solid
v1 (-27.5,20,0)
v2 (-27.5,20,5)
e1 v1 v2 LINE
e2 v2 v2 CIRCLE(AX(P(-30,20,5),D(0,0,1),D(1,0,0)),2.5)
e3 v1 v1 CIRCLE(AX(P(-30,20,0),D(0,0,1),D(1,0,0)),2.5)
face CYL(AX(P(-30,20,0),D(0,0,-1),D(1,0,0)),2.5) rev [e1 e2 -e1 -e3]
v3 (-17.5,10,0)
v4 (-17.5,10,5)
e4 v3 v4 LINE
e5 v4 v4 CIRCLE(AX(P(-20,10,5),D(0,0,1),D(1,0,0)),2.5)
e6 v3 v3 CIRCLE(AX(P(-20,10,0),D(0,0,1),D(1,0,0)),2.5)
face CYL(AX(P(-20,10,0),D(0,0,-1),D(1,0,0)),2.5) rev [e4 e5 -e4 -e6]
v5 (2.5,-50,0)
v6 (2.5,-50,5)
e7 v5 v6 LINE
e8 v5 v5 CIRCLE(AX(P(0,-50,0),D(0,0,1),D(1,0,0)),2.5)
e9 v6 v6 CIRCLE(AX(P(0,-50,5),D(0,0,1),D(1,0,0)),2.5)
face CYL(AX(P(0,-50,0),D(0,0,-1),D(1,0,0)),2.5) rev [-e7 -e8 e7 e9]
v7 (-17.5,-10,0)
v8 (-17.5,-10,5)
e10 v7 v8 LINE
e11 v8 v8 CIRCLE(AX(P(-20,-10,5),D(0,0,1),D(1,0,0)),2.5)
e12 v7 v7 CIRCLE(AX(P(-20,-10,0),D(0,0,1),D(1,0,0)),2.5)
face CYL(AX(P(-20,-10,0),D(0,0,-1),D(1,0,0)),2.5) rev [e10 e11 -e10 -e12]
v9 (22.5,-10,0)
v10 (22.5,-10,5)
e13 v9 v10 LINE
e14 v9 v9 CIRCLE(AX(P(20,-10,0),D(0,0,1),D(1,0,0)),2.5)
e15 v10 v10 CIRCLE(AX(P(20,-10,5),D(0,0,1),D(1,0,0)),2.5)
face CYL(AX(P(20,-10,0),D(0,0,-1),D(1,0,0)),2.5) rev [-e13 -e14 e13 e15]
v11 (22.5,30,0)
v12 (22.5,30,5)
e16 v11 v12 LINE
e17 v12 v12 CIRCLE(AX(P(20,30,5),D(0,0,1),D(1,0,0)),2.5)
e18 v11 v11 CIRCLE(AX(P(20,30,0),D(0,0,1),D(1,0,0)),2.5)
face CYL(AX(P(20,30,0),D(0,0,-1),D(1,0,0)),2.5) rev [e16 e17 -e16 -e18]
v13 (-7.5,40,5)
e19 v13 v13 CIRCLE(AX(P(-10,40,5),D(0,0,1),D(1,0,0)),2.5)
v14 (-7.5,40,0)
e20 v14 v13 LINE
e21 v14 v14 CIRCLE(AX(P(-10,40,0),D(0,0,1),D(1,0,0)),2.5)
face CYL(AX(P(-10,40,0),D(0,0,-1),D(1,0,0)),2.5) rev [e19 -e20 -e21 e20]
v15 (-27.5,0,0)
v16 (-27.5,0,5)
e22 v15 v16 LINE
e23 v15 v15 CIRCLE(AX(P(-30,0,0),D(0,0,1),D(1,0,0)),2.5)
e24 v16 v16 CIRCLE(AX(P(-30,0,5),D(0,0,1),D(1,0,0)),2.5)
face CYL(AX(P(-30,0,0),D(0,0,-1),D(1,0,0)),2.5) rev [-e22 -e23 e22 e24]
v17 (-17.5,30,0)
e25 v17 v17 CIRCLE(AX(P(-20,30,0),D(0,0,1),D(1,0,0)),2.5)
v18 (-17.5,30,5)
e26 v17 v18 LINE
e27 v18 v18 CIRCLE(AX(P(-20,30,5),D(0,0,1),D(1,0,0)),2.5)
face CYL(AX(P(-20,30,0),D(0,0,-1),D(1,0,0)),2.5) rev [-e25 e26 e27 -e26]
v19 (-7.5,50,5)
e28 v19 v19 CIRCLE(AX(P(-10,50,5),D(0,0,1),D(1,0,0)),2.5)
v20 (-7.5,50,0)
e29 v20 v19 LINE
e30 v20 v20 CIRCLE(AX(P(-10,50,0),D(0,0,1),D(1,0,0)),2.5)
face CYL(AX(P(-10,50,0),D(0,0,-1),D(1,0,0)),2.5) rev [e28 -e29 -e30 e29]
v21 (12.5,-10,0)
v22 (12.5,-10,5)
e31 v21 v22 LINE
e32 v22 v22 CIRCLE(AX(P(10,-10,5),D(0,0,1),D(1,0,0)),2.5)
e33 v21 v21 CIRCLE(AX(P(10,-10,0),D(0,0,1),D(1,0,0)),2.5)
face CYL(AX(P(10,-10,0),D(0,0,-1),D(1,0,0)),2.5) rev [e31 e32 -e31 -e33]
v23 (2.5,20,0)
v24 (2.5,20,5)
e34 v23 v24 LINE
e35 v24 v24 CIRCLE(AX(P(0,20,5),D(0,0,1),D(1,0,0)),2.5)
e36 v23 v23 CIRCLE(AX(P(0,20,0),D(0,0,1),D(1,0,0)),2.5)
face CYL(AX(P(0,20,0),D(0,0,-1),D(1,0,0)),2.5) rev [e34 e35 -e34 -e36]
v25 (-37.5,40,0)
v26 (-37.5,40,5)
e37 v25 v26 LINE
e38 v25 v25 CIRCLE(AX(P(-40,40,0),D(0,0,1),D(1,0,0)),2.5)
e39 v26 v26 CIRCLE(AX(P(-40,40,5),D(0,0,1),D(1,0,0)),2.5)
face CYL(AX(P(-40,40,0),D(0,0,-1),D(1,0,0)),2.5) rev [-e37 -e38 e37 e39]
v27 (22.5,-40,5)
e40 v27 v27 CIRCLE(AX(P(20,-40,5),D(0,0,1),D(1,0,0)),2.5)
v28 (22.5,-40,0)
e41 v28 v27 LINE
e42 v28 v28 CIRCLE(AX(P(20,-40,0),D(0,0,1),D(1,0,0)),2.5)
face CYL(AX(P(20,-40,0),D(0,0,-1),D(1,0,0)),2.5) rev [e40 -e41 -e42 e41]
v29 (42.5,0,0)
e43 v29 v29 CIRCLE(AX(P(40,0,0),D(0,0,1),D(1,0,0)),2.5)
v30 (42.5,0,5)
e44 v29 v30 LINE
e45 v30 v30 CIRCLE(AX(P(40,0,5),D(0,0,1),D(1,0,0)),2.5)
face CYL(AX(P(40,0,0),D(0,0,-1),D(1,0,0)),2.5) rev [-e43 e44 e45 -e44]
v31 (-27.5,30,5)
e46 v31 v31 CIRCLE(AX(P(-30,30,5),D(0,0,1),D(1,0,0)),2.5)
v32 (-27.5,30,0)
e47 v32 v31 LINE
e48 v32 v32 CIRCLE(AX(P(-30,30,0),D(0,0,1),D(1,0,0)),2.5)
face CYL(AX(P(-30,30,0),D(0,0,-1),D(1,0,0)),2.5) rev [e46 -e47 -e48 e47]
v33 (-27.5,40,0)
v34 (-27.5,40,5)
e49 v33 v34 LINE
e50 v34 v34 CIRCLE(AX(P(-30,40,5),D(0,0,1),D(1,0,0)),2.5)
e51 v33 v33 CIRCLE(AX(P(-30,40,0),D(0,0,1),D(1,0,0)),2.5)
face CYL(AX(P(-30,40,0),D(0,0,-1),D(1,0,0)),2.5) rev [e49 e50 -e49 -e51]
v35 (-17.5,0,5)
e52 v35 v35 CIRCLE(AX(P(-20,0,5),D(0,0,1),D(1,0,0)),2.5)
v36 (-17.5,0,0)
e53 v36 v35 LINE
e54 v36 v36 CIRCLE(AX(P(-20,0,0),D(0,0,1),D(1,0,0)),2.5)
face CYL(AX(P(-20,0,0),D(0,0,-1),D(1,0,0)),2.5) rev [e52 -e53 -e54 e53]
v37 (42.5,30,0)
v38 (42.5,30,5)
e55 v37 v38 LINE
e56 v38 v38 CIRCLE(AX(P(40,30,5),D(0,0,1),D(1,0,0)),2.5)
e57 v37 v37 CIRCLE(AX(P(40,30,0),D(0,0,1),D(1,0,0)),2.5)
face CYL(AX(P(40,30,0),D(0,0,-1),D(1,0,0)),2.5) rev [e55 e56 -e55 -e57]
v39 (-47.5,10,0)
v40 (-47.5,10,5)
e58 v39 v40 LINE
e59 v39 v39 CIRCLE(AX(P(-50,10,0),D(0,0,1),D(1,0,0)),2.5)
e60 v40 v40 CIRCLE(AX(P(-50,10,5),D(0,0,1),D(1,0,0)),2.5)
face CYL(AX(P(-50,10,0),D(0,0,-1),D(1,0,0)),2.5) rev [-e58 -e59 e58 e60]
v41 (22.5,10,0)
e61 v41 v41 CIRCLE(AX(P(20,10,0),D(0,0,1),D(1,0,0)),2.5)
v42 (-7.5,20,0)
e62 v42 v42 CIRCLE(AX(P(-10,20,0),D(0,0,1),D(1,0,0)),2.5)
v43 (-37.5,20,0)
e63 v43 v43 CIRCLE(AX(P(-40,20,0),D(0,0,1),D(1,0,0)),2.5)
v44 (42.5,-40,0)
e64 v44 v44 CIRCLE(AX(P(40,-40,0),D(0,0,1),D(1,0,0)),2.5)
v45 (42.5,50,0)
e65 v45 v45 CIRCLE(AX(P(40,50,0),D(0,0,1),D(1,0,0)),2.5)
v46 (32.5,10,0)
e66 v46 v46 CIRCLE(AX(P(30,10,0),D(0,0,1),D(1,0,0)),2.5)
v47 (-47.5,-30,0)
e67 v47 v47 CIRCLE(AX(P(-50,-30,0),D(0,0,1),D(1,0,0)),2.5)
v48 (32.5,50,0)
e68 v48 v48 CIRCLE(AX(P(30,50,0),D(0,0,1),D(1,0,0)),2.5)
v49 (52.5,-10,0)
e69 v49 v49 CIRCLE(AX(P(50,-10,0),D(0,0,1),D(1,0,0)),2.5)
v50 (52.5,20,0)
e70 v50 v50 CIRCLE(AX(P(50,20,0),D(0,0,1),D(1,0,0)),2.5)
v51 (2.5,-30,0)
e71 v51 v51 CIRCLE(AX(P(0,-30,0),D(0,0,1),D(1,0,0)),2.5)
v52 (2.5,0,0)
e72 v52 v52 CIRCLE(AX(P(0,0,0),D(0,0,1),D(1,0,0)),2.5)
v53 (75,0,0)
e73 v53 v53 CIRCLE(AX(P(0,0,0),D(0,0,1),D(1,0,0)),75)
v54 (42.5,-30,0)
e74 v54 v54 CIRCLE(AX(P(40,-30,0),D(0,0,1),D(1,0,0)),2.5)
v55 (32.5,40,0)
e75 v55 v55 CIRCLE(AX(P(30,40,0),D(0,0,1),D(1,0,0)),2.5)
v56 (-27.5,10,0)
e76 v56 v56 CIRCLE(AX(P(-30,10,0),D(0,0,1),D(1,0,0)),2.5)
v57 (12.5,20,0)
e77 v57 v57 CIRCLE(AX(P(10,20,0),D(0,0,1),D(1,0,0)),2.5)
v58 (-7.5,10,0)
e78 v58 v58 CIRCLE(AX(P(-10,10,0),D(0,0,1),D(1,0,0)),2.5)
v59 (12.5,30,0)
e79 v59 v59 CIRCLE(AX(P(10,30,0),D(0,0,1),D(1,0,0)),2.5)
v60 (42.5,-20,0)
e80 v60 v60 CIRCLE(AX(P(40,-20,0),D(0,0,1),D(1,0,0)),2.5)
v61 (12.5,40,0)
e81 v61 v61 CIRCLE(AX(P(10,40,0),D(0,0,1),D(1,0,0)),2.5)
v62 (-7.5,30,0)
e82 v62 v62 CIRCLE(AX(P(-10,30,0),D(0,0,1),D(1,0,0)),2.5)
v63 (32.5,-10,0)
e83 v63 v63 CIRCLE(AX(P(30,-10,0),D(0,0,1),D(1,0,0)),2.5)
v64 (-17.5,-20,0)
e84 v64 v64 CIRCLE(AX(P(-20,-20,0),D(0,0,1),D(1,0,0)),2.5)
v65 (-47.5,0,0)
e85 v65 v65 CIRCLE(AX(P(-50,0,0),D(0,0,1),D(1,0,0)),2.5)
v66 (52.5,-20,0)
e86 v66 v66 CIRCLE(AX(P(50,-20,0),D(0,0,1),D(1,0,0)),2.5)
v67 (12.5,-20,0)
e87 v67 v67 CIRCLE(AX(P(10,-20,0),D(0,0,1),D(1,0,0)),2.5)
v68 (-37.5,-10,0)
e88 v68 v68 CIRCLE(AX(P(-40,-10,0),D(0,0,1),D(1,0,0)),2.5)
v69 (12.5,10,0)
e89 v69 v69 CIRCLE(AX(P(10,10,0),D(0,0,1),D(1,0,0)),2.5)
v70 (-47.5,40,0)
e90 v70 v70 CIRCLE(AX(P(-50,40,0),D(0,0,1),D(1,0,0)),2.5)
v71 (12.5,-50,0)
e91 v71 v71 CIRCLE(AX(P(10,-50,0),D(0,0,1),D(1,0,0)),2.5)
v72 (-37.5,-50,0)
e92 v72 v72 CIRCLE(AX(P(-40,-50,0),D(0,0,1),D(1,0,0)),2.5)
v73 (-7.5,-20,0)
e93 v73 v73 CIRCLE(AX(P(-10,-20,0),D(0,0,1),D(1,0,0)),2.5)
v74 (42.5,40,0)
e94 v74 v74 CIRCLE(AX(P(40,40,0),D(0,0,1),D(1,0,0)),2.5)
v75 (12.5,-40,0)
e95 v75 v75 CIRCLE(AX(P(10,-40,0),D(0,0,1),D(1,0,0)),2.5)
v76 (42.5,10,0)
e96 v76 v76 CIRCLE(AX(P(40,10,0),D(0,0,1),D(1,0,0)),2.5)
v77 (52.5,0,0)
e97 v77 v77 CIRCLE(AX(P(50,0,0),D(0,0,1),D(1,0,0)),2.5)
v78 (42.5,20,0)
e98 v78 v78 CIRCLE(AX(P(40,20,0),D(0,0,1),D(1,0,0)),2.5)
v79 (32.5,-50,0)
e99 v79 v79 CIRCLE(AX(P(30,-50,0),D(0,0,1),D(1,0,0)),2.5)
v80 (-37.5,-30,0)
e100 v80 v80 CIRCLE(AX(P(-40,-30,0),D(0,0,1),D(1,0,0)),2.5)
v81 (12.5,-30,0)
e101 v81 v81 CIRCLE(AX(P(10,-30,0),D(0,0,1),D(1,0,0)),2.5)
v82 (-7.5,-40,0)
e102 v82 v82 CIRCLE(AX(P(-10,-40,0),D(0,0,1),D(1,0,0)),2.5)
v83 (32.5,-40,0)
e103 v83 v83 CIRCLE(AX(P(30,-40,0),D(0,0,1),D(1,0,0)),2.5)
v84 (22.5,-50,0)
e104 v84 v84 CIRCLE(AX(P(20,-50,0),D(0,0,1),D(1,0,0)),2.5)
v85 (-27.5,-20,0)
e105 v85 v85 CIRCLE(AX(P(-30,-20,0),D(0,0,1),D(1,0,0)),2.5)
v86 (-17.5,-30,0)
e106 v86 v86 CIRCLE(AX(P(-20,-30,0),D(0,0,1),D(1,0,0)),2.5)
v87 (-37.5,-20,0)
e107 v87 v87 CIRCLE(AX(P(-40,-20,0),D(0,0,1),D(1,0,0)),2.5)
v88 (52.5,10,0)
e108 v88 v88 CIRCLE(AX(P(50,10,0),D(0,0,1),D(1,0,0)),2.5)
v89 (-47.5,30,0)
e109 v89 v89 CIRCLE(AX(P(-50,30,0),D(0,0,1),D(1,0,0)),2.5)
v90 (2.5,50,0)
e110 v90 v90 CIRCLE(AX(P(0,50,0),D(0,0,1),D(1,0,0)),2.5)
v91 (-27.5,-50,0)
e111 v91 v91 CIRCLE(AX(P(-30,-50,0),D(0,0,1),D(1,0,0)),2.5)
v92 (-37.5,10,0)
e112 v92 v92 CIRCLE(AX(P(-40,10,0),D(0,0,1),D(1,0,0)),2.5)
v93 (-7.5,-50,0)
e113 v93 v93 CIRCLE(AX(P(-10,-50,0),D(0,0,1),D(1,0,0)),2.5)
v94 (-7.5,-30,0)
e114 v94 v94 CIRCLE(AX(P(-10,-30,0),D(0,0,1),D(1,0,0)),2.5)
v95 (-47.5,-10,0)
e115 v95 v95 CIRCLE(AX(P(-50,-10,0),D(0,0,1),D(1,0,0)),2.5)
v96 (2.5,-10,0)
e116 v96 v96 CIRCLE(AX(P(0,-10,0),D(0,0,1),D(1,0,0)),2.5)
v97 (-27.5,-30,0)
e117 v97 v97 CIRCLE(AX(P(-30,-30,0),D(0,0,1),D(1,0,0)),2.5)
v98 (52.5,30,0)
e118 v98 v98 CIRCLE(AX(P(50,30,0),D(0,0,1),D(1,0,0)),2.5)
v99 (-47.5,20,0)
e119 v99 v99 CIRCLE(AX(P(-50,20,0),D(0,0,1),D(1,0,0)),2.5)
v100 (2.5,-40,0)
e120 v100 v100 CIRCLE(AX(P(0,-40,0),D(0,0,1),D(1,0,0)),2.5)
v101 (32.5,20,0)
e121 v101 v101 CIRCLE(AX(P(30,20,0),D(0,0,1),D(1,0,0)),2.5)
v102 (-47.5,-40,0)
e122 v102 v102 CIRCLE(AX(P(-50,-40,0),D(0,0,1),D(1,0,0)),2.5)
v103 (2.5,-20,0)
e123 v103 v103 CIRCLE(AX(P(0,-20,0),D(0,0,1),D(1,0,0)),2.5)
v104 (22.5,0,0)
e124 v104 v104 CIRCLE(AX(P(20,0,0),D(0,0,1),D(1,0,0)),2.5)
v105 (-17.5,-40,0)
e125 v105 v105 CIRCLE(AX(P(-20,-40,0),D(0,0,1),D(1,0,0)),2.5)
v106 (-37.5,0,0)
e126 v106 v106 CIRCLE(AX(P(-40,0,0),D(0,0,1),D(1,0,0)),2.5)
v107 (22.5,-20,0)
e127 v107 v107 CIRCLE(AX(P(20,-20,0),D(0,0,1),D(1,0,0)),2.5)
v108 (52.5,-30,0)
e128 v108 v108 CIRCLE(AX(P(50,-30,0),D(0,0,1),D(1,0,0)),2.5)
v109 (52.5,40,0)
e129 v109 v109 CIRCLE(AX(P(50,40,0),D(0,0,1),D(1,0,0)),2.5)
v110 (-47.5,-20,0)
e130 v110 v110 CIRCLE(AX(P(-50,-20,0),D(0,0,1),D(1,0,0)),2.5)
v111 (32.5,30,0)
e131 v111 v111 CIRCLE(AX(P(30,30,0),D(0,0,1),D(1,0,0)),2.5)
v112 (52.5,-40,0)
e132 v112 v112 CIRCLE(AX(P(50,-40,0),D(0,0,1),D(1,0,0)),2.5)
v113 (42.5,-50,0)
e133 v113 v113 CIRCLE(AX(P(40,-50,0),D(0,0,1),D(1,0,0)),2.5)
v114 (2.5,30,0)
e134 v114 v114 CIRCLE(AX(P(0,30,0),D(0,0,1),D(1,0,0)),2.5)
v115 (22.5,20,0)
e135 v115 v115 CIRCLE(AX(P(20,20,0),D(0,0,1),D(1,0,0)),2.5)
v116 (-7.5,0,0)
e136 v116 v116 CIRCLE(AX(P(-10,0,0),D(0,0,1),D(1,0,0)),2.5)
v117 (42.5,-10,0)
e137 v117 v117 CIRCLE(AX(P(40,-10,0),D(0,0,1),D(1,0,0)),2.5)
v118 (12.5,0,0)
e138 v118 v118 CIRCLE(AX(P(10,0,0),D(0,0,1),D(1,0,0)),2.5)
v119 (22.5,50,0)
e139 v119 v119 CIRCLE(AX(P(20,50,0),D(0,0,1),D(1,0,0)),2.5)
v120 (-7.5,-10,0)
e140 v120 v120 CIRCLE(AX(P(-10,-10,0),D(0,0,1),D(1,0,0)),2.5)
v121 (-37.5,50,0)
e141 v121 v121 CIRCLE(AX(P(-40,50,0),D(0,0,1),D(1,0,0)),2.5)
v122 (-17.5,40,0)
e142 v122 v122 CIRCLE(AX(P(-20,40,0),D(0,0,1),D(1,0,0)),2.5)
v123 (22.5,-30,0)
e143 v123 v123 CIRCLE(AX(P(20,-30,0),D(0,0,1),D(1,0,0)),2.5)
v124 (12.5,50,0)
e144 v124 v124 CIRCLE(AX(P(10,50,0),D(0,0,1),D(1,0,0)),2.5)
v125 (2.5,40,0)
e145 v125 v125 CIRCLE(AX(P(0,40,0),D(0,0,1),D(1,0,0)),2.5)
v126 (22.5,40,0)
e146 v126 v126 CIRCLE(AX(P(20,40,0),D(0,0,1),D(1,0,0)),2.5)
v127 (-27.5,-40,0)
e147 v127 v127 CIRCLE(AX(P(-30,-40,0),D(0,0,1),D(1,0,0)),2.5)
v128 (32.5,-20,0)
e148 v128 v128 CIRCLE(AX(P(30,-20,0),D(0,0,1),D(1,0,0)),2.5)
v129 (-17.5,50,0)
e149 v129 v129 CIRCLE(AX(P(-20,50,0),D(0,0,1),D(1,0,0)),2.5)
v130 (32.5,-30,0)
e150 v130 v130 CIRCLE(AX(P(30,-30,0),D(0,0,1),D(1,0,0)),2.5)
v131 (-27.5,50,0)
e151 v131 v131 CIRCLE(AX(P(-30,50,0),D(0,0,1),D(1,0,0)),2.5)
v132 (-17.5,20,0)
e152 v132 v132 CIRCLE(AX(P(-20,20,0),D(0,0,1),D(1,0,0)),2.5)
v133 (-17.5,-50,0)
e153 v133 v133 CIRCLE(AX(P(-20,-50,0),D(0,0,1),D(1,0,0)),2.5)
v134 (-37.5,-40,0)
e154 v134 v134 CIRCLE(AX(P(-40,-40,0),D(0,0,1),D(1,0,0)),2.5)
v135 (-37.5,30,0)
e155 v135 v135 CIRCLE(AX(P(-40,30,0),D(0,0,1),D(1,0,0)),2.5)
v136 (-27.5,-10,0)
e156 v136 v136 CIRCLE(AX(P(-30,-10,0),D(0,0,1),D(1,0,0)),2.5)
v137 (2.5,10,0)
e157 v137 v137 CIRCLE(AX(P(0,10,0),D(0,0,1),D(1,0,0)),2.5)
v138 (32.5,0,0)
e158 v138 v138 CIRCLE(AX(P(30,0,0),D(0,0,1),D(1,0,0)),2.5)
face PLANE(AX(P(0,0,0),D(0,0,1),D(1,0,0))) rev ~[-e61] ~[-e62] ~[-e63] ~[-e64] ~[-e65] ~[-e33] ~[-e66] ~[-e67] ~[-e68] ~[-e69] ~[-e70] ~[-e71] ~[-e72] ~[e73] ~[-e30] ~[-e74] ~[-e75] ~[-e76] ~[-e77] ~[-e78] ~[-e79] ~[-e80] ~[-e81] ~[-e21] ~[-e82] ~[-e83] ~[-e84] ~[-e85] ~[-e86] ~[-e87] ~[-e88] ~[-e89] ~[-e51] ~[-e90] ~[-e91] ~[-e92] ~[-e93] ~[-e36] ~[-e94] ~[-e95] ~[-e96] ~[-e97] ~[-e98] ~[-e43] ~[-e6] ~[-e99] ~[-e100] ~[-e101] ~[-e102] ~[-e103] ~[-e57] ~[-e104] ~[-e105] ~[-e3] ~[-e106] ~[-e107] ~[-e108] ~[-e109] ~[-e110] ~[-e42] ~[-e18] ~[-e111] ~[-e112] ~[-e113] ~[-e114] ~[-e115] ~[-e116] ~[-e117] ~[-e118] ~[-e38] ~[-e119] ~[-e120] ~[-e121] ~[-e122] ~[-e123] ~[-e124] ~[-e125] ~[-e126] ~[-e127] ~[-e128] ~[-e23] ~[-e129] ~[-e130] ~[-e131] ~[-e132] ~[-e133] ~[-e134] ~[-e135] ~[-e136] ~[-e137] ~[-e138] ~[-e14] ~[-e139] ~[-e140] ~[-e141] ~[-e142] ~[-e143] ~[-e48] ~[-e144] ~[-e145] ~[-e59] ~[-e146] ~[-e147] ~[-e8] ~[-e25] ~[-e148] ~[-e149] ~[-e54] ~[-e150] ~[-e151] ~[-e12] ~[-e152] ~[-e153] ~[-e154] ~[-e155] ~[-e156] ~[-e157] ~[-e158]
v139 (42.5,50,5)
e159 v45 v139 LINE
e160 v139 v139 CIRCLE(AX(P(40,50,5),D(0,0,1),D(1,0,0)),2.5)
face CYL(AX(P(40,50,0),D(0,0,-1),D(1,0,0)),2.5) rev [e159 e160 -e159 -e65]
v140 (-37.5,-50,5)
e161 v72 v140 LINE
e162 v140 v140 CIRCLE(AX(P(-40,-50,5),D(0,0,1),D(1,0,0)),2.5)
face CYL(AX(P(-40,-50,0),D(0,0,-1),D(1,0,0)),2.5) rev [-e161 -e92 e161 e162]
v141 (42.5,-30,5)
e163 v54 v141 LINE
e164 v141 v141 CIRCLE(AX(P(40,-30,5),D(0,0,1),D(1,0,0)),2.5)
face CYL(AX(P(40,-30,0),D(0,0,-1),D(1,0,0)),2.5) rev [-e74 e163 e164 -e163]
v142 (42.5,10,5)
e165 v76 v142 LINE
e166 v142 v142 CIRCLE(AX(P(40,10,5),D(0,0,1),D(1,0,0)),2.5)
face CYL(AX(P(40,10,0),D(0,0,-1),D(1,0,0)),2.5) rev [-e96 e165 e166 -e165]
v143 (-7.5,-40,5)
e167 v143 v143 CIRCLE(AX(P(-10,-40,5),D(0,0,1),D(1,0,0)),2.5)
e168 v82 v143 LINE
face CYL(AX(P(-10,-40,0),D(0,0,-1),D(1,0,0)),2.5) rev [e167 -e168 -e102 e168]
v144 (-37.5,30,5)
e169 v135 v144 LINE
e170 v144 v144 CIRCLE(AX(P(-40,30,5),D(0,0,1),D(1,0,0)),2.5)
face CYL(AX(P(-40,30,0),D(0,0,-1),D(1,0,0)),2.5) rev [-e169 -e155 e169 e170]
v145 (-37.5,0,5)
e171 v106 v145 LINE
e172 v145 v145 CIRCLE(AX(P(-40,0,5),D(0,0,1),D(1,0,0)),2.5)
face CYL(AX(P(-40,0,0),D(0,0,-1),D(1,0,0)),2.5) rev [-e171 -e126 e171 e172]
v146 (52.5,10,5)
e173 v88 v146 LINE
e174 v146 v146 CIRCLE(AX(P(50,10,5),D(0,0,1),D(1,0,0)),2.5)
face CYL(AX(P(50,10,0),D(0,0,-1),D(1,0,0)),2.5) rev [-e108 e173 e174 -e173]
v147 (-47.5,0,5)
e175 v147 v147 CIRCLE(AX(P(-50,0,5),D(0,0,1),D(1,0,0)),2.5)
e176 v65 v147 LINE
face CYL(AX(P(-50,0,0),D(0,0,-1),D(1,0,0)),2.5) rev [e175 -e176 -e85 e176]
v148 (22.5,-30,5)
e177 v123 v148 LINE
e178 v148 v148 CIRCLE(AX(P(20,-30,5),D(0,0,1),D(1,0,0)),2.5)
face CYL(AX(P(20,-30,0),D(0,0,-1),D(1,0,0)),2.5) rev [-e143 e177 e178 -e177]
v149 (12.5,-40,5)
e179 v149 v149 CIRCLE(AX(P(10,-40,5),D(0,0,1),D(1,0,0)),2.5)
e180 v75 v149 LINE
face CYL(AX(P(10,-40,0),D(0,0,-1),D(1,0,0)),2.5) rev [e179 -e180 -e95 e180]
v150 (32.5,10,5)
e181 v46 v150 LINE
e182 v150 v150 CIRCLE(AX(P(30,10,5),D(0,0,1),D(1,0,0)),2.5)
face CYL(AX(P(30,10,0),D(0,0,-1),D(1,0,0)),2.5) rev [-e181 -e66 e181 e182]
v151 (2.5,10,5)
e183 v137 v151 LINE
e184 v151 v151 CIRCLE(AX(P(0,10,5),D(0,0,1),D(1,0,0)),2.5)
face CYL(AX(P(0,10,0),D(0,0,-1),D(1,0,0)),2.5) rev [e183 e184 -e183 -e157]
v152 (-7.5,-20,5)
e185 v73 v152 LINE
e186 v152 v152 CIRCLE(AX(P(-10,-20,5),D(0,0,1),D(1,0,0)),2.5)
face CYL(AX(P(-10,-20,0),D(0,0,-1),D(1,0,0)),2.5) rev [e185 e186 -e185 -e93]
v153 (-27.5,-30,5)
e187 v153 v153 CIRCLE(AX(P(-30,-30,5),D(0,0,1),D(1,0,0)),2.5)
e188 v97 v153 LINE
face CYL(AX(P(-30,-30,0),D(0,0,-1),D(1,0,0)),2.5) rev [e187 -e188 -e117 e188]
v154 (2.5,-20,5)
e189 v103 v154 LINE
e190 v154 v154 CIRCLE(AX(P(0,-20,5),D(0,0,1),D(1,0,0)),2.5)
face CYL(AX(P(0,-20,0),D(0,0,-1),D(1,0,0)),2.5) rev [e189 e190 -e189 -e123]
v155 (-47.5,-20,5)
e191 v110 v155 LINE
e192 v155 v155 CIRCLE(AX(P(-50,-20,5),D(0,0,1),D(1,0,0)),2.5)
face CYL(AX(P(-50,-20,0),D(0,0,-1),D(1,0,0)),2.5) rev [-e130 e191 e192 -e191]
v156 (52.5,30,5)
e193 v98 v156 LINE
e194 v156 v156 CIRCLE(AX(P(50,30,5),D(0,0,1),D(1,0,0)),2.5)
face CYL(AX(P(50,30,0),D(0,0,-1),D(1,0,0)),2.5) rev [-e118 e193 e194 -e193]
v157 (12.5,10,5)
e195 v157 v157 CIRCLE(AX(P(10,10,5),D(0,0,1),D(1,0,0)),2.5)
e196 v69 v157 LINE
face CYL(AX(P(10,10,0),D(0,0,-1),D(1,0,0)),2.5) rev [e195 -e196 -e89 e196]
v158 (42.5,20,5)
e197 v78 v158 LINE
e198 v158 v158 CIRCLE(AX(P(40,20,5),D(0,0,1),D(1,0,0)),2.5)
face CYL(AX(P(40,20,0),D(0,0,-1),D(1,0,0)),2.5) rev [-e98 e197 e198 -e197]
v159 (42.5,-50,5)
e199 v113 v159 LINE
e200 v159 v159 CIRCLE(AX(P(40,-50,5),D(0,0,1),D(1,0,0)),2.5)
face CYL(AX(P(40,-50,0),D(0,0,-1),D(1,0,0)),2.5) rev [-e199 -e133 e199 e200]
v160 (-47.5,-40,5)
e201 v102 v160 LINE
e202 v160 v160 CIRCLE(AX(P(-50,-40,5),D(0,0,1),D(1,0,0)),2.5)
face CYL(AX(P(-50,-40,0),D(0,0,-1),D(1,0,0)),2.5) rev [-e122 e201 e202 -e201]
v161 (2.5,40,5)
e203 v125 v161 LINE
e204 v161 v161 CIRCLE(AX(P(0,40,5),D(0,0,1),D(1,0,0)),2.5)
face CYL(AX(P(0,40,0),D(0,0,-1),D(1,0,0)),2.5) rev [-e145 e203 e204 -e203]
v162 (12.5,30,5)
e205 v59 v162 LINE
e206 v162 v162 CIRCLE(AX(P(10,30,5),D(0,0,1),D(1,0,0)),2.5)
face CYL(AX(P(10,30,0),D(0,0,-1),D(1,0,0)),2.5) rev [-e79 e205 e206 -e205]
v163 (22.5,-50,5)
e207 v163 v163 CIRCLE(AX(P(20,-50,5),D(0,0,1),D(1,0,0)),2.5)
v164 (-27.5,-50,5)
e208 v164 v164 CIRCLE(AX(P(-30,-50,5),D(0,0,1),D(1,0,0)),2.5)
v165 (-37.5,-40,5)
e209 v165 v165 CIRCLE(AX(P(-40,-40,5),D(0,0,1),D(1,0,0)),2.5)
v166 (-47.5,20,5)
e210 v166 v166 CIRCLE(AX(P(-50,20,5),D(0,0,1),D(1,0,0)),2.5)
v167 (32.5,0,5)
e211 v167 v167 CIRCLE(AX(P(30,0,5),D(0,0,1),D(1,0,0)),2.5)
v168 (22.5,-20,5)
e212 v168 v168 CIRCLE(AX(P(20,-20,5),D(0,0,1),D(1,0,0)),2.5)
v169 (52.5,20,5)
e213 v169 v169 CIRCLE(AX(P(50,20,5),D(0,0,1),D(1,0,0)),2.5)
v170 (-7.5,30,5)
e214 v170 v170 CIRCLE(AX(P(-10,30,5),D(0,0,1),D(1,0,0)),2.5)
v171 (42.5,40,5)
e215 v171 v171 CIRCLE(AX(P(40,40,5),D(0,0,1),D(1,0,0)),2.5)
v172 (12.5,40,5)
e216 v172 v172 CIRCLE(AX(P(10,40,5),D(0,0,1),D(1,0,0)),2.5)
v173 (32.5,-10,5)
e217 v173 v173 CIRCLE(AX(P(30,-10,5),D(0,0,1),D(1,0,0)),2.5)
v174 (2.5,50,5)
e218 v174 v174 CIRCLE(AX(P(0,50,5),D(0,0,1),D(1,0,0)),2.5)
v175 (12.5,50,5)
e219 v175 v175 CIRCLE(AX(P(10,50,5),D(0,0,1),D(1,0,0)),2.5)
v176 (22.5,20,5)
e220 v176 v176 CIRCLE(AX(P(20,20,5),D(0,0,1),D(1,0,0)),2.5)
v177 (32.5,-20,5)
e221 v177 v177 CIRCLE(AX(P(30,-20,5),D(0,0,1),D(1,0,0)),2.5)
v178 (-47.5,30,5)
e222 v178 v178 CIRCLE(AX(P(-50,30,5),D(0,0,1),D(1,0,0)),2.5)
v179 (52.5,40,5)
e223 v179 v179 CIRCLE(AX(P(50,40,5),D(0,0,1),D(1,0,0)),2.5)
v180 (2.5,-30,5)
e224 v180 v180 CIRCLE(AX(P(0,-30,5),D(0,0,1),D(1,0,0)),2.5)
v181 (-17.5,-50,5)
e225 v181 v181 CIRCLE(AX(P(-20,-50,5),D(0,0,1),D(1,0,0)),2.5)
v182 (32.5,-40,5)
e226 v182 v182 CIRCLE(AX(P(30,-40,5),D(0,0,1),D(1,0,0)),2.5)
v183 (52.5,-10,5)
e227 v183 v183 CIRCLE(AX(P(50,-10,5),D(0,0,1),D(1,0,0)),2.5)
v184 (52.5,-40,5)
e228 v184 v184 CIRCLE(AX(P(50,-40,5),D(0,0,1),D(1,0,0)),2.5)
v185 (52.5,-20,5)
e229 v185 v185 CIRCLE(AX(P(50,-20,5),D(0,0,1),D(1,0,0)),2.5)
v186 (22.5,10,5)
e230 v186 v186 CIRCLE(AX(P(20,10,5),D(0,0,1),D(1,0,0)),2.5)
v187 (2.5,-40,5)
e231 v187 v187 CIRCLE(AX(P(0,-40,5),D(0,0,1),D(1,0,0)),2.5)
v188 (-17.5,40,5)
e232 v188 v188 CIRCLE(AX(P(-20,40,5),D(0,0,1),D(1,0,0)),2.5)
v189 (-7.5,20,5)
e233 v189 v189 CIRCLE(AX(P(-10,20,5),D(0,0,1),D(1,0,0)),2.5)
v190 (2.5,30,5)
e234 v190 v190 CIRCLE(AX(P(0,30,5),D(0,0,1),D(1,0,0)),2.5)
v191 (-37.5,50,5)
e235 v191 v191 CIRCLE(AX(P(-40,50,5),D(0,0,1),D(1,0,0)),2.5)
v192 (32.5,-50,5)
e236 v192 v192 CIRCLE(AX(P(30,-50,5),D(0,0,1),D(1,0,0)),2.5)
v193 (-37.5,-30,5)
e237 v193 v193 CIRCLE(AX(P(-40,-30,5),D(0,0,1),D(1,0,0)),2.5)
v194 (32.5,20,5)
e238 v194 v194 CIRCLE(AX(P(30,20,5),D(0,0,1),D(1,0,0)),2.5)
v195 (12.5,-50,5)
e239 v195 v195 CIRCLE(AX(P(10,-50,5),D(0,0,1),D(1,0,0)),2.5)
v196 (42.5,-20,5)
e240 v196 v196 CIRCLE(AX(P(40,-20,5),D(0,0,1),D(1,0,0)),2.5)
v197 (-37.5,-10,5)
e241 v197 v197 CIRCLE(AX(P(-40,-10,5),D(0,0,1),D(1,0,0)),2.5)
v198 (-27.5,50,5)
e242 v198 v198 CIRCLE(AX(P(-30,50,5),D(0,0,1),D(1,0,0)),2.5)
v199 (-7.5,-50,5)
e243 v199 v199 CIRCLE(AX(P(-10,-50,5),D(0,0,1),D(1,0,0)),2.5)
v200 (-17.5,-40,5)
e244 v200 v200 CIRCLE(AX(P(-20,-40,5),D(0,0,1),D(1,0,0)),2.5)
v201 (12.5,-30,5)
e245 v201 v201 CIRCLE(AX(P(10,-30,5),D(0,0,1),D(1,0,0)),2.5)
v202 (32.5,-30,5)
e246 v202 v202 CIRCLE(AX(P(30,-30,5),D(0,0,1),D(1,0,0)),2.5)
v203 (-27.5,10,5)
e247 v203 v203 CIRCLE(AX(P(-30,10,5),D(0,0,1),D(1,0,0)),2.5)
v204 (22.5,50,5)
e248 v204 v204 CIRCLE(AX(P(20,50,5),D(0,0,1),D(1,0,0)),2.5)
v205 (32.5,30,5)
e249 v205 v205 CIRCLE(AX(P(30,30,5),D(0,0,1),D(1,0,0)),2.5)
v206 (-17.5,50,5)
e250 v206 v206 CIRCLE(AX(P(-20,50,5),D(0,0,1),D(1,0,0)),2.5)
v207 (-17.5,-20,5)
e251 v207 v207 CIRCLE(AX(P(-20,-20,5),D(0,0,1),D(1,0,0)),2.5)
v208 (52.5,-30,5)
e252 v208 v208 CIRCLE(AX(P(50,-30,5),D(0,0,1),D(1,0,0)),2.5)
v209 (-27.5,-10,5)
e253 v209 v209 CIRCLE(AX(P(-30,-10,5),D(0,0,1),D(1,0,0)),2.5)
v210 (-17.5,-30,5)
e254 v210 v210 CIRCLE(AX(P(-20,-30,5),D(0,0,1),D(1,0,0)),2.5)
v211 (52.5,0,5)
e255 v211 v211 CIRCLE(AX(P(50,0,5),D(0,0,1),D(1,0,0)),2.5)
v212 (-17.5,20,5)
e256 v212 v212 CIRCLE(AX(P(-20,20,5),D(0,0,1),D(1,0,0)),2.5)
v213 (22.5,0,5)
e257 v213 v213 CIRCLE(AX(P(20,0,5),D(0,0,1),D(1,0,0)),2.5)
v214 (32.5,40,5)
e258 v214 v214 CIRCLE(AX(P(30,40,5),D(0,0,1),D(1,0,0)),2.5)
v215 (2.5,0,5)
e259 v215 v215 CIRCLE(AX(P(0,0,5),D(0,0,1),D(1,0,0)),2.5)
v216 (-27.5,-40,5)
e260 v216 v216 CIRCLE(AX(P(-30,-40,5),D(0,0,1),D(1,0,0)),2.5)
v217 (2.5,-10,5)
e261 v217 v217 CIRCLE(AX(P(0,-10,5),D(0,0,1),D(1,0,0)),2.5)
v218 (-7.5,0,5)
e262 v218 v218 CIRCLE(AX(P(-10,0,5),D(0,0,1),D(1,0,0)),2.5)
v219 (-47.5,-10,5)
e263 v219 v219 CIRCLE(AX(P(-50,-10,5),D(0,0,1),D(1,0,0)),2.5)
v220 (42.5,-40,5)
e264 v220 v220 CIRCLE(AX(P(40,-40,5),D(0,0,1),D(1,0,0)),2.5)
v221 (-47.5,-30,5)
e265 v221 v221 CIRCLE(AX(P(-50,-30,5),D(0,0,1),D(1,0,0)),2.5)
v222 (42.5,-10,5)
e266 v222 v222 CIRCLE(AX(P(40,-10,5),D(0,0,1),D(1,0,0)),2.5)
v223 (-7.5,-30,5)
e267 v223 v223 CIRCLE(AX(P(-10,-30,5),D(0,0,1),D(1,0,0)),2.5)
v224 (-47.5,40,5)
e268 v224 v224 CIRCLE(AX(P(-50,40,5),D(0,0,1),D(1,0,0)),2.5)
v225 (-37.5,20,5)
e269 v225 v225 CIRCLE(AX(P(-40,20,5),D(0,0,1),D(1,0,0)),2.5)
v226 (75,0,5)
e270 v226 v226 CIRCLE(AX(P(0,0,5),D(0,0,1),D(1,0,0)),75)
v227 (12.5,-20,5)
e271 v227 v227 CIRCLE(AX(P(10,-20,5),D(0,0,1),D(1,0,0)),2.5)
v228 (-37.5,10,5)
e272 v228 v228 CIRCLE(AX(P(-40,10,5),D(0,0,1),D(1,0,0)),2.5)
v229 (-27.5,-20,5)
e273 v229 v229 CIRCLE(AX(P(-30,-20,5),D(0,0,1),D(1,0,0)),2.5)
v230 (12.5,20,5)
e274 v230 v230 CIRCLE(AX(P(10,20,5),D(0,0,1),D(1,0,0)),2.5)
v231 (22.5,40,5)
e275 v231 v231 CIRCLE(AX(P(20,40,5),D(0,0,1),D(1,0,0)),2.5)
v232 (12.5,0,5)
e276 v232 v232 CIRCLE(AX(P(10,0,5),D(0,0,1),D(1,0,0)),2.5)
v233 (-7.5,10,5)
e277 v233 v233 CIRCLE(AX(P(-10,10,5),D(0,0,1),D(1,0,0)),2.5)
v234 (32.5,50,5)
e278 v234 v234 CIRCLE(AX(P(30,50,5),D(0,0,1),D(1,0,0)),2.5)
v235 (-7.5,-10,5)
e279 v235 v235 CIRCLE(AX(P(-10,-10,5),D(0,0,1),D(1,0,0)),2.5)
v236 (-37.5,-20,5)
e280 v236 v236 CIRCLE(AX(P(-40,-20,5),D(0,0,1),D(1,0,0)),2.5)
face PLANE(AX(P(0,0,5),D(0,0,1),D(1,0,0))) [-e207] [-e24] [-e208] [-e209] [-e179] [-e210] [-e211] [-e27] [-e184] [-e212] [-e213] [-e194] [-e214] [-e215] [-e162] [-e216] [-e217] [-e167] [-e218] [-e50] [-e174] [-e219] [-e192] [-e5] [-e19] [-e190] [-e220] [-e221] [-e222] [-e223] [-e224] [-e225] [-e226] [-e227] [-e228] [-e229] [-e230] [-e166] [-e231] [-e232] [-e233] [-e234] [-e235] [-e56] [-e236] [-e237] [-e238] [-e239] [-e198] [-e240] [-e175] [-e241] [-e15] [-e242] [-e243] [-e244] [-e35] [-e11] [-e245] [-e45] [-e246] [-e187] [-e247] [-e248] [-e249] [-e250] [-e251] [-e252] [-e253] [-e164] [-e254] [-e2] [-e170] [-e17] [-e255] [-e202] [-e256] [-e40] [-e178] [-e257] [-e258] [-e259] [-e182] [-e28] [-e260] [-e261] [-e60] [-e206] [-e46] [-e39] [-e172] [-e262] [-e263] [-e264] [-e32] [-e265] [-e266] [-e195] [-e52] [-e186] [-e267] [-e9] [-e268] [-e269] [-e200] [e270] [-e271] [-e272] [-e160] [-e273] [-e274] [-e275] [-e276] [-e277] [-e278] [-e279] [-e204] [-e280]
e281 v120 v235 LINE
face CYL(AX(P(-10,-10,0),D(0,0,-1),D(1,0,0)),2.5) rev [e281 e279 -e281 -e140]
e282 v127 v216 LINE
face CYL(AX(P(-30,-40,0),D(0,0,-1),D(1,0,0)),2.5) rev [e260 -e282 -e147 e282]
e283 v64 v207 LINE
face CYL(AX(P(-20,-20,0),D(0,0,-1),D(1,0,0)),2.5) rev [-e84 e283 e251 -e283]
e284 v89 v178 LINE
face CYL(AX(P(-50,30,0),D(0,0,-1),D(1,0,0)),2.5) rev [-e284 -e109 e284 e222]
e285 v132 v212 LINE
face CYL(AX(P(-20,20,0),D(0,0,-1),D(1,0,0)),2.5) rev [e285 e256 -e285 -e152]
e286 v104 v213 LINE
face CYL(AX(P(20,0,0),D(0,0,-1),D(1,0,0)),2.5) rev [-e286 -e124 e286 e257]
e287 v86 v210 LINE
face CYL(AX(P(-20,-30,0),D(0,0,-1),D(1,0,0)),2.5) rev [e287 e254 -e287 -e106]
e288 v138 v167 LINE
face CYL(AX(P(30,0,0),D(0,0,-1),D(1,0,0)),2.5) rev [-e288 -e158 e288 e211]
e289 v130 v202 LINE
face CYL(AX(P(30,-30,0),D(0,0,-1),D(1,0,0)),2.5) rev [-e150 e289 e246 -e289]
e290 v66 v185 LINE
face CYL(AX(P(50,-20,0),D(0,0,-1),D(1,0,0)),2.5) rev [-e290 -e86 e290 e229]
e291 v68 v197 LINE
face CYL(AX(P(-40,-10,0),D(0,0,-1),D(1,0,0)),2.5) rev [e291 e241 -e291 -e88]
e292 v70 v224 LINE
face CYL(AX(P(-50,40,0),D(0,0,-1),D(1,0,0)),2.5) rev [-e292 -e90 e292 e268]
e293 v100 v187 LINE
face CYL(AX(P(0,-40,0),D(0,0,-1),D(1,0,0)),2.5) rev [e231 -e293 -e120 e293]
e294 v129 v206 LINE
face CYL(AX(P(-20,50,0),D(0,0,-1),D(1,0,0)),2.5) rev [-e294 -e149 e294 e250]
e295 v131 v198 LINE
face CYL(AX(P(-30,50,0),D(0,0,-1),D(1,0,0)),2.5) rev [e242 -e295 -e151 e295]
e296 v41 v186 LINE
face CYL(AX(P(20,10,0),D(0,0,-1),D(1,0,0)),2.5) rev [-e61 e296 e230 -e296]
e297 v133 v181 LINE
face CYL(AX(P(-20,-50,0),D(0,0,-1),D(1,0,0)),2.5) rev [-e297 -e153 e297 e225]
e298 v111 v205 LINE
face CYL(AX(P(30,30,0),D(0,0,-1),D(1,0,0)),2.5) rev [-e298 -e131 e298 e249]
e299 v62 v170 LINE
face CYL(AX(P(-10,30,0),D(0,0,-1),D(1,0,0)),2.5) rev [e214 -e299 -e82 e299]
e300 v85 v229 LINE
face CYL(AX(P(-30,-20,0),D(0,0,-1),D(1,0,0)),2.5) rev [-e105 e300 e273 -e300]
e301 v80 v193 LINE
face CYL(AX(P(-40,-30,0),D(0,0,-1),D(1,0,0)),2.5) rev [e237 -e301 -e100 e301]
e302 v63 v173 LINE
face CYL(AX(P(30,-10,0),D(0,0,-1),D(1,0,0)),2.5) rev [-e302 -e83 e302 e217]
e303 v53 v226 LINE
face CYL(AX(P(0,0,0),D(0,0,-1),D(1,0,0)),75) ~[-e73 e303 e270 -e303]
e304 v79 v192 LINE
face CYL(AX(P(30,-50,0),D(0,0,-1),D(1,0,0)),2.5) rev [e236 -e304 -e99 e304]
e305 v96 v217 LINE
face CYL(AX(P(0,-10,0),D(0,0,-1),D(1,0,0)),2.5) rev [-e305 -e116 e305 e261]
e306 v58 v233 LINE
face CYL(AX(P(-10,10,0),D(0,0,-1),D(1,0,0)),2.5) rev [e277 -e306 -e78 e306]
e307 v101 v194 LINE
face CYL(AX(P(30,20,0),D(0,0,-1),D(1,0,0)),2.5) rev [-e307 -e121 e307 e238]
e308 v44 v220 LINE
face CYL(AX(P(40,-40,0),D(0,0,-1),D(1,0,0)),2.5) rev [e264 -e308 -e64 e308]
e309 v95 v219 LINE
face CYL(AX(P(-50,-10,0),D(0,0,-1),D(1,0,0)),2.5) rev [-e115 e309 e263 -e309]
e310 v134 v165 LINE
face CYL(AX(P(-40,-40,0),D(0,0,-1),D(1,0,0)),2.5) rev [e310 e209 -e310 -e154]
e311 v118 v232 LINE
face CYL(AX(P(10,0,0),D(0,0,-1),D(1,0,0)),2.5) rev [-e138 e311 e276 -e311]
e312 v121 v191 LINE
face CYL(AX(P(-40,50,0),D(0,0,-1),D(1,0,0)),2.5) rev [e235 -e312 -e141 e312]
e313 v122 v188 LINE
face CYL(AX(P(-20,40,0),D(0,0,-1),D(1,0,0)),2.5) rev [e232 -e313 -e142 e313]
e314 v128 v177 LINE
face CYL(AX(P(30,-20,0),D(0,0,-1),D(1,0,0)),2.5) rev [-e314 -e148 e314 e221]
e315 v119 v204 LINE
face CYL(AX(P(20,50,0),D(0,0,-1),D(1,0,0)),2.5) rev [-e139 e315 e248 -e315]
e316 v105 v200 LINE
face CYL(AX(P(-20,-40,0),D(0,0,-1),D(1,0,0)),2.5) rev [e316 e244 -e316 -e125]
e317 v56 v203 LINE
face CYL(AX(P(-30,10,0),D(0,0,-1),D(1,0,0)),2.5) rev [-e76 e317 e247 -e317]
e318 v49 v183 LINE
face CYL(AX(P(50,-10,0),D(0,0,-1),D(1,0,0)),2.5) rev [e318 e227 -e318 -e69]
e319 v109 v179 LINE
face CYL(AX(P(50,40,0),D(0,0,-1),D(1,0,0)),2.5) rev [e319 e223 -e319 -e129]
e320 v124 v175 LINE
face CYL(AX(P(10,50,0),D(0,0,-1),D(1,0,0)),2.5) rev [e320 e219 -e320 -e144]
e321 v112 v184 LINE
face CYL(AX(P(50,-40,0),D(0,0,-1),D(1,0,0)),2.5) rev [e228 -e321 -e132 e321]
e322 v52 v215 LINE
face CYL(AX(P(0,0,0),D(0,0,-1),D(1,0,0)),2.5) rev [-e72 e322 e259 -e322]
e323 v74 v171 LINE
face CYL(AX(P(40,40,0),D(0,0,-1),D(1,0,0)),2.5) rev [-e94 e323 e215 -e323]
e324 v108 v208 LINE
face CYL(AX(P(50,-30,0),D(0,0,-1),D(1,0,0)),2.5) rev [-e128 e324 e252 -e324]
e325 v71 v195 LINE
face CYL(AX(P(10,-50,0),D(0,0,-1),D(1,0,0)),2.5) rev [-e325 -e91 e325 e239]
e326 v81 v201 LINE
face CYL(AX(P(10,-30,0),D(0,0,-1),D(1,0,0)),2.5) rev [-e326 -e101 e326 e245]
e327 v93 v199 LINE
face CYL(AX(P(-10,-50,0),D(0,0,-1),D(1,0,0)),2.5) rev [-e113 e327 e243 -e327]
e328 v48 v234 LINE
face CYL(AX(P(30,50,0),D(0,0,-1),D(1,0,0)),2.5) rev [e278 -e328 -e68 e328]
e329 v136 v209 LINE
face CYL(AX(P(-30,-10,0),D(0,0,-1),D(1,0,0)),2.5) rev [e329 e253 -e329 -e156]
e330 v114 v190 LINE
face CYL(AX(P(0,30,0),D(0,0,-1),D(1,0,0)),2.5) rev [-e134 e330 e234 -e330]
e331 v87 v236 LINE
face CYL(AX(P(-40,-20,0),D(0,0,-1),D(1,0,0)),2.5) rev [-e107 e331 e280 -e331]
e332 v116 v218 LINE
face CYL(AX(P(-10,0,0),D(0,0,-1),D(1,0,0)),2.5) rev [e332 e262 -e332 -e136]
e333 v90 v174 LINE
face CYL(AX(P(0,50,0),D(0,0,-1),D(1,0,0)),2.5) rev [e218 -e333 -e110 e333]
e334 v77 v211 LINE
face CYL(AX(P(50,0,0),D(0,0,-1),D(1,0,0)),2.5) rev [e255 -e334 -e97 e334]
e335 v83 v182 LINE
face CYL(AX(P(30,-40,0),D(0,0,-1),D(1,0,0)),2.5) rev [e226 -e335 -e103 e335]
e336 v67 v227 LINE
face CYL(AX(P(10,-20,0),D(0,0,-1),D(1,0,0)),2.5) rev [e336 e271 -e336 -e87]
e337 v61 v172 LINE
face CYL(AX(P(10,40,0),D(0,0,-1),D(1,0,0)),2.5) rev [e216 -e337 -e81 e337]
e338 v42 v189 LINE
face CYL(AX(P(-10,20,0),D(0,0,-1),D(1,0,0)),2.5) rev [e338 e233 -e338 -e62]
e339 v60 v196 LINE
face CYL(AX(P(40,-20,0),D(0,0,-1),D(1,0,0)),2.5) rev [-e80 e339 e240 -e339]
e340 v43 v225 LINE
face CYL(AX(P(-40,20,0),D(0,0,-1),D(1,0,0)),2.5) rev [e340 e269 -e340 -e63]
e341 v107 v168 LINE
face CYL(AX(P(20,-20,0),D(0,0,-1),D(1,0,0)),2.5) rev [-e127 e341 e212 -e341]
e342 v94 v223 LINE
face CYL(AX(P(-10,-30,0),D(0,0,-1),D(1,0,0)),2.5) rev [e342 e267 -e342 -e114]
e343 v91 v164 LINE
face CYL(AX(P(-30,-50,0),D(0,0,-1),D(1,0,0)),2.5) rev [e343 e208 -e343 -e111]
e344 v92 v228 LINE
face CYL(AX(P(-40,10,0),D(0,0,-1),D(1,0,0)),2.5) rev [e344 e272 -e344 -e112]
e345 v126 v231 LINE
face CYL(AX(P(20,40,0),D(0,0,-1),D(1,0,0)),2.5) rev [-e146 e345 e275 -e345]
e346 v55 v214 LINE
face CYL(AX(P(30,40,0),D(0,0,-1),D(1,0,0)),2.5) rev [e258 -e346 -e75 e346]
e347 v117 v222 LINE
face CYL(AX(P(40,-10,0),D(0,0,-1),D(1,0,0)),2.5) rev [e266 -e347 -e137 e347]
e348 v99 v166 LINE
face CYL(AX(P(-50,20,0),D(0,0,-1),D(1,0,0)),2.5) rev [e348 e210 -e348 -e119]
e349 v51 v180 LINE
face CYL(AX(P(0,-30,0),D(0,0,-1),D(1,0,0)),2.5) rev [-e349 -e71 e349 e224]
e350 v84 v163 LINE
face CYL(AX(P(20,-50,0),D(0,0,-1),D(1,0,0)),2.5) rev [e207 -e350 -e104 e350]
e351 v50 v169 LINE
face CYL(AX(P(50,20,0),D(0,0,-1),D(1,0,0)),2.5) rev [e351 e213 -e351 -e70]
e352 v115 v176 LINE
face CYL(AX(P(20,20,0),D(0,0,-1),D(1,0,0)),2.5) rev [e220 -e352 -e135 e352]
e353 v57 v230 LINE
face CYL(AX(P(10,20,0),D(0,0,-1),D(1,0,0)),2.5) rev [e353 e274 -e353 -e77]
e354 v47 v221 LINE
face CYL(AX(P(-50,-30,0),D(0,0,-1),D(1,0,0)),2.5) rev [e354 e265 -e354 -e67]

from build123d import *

# Parameters (mm, degrees)
F0_R     = 75
F0_R_2   = 2.5
F1_DEPTH = 5


with BuildPart() as f1:
    # F0 (on Top) → F1 (new body)
    with BuildSketch(Plane.XY):
        Circle(F0_R)
        with Locations((-40, -50)):
            Circle(F0_R_2, mode=Mode.SUBTRACT)
        with Locations((-50, -40)):
            Circle(F0_R_2, mode=Mode.SUBTRACT)
        with Locations((-40, -40)):
            Circle(F0_R_2, mode=Mode.SUBTRACT)
        with Locations((-30, -50)):
            Circle(F0_R_2, mode=Mode.SUBTRACT)
        with Locations((-20, -50)):
            Circle(F0_R_2, mode=Mode.SUBTRACT)
        with Locations((-30, -40)):
            Circle(F0_R_2, mode=Mode.SUBTRACT)
        with Locations((-20, -40)):
            Circle(F0_R_2, mode=Mode.SUBTRACT)
        with Locations((-10, -50)):
            Circle(F0_R_2, mode=Mode.SUBTRACT)
        with Locations((-10, -40)):
            Circle(F0_R_2, mode=Mode.SUBTRACT)
        with Locations((-50, -30)):
            Circle(F0_R_2, mode=Mode.SUBTRACT)
        with Locations((-40, -30)):
            Circle(F0_R_2, mode=Mode.SUBTRACT)
        with Locations((-50, -20)):
            Circle(F0_R_2, mode=Mode.SUBTRACT)
        with Locations((-40, -20)):
            Circle(F0_R_2, mode=Mode.SUBTRACT)
        with Locations((-50, -10)):
            Circle(F0_R_2, mode=Mode.SUBTRACT)
        with Locations((-40, -10)):
            Circle(F0_R_2, mode=Mode.SUBTRACT)
        with Locations((-30, -30)):
            Circle(F0_R_2, mode=Mode.SUBTRACT)
        with Locations((-20, -30)):
            Circle(F0_R_2, mode=Mode.SUBTRACT)
        with Locations((-30, -20)):
            Circle(F0_R_2, mode=Mode.SUBTRACT)
        with Locations((-20, -20)):
            Circle(F0_R_2, mode=Mode.SUBTRACT)
        with Locations((-10, -30)):
            Circle(F0_R_2, mode=Mode.SUBTRACT)
        with Locations((-10, -20)):
            Circle(F0_R_2, mode=Mode.SUBTRACT)
        with Locations((-30, -10)):
            Circle(F0_R_2, mode=Mode.SUBTRACT)
        with Locations((-20, -10)):
            Circle(F0_R_2, mode=Mode.SUBTRACT)
        with Locations((-10, -10)):
            Circle(F0_R_2, mode=Mode.SUBTRACT)
        with Locations((0, -50)):
            Circle(F0_R_2, mode=Mode.SUBTRACT)
        with Locations((10, -50)):
            Circle(F0_R_2, mode=Mode.SUBTRACT)
        with Locations((0, -40)):
            Circle(F0_R_2, mode=Mode.SUBTRACT)
        with Locations((10, -40)):
            Circle(F0_R_2, mode=Mode.SUBTRACT)
        with Locations((20, -50)):
            Circle(F0_R_2, mode=Mode.SUBTRACT)
        with Locations((30, -50)):
            Circle(F0_R_2, mode=Mode.SUBTRACT)
        with Locations((20, -40)):
            Circle(F0_R_2, mode=Mode.SUBTRACT)
        with Locations((30, -40)):
            Circle(F0_R_2, mode=Mode.SUBTRACT)
        with Locations((40, -50)):
            Circle(F0_R_2, mode=Mode.SUBTRACT)
        with Locations((40, -40)):
            Circle(F0_R_2, mode=Mode.SUBTRACT)
        with Locations((50, -40)):
            Circle(F0_R_2, mode=Mode.SUBTRACT)
        with Locations((0, -30)):
            Circle(F0_R_2, mode=Mode.SUBTRACT)
        with Locations((10, -30)):
            Circle(F0_R_2, mode=Mode.SUBTRACT)
        with Locations((0, -20)):
            Circle(F0_R_2, mode=Mode.SUBTRACT)
        with Locations((10, -20)):
            Circle(F0_R_2, mode=Mode.SUBTRACT)
        with Locations((20, -30)):
            Circle(F0_R_2, mode=Mode.SUBTRACT)
        with Locations((30, -30)):
            Circle(F0_R_2, mode=Mode.SUBTRACT)
        with Locations((20, -20)):
            Circle(F0_R_2, mode=Mode.SUBTRACT)
        with Locations((30, -20)):
            Circle(F0_R_2, mode=Mode.SUBTRACT)
        with Locations((0, -10)):
            Circle(F0_R_2, mode=Mode.SUBTRACT)
        with Locations((10, -10)):
            Circle(F0_R_2, mode=Mode.SUBTRACT)
        with Locations((20, -10)):
            Circle(F0_R_2, mode=Mode.SUBTRACT)
        with Locations((30, -10)):
            Circle(F0_R_2, mode=Mode.SUBTRACT)
        with Locations((40, -30)):
            Circle(F0_R_2, mode=Mode.SUBTRACT)
        with Locations((50, -30)):
            Circle(F0_R_2, mode=Mode.SUBTRACT)
        with Locations((40, -20)):
            Circle(F0_R_2, mode=Mode.SUBTRACT)
        with Locations((50, -20)):
            Circle(F0_R_2, mode=Mode.SUBTRACT)
        with Locations((40, -10)):
            Circle(F0_R_2, mode=Mode.SUBTRACT)
        with Locations((50, -10)):
            Circle(F0_R_2, mode=Mode.SUBTRACT)
        with Locations((-50, 0)):
            Circle(F0_R_2, mode=Mode.SUBTRACT)
        with Locations((-40, 0)):
            Circle(F0_R_2, mode=Mode.SUBTRACT)
        with Locations((-50, 10)):
            Circle(F0_R_2, mode=Mode.SUBTRACT)
        with Locations((-40, 10)):
            Circle(F0_R_2, mode=Mode.SUBTRACT)
        with Locations((-50, 20)):
            Circle(F0_R_2, mode=Mode.SUBTRACT)
        with Locations((-40, 20)):
            Circle(F0_R_2, mode=Mode.SUBTRACT)
        with Locations((-50, 30)):
            Circle(F0_R_2, mode=Mode.SUBTRACT)
        with Locations((-40, 30)):
            Circle(F0_R_2, mode=Mode.SUBTRACT)
        with Locations((-30, 0)):
            Circle(F0_R_2, mode=Mode.SUBTRACT)
        with Locations((-20, 0)):
            Circle(F0_R_2, mode=Mode.SUBTRACT)
        with Locations((-30, 10)):
            Circle(F0_R_2, mode=Mode.SUBTRACT)
        with Locations((-20, 10)):
            Circle(F0_R_2, mode=Mode.SUBTRACT)
        with Locations((-10, 0)):
            Circle(F0_R_2, mode=Mode.SUBTRACT)
        with Locations((-10, 10)):
            Circle(F0_R_2, mode=Mode.SUBTRACT)
        with Locations((-30, 20)):
            Circle(F0_R_2, mode=Mode.SUBTRACT)
        with Locations((-20, 20)):
            Circle(F0_R_2, mode=Mode.SUBTRACT)
        with Locations((-30, 30)):
            Circle(F0_R_2, mode=Mode.SUBTRACT)
        with Locations((-20, 30)):
            Circle(F0_R_2, mode=Mode.SUBTRACT)
        with Locations((-10, 20)):
            Circle(F0_R_2, mode=Mode.SUBTRACT)
        with Locations((-10, 30)):
            Circle(F0_R_2, mode=Mode.SUBTRACT)
        with Locations((-50, 40)):
            Circle(F0_R_2, mode=Mode.SUBTRACT)
        with Locations((-40, 40)):
            Circle(F0_R_2, mode=Mode.SUBTRACT)
        with Locations((-40, 50)):
            Circle(F0_R_2, mode=Mode.SUBTRACT)
        with Locations((-30, 40)):
            Circle(F0_R_2, mode=Mode.SUBTRACT)
        with Locations((-20, 40)):
            Circle(F0_R_2, mode=Mode.SUBTRACT)
        with Locations((-30, 50)):
            Circle(F0_R_2, mode=Mode.SUBTRACT)
        with Locations((-20, 50)):
            Circle(F0_R_2, mode=Mode.SUBTRACT)
        with Locations((-10, 40)):
            Circle(F0_R_2, mode=Mode.SUBTRACT)
        with Locations((-10, 50)):
            Circle(F0_R_2, mode=Mode.SUBTRACT)
        Circle(F0_R_2, mode=Mode.SUBTRACT)
        with Locations((10, 0)):
            Circle(F0_R_2, mode=Mode.SUBTRACT)
        with Locations((0, 10)):
            Circle(F0_R_2, mode=Mode.SUBTRACT)
        with Locations((10, 10)):
            Circle(F0_R_2, mode=Mode.SUBTRACT)
        with Locations((20, 0)):
            Circle(F0_R_2, mode=Mode.SUBTRACT)
        with Locations((30, 0)):
            Circle(F0_R_2, mode=Mode.SUBTRACT)
        with Locations((20, 10)):
            Circle(F0_R_2, mode=Mode.SUBTRACT)
        with Locations((30, 10)):
            Circle(F0_R_2, mode=Mode.SUBTRACT)
        with Locations((0, 20)):
            Circle(F0_R_2, mode=Mode.SUBTRACT)
        with Locations((10, 20)):
            Circle(F0_R_2, mode=Mode.SUBTRACT)
        with Locations((0, 30)):
            Circle(F0_R_2, mode=Mode.SUBTRACT)
        with Locations((10, 30)):
            Circle(F0_R_2, mode=Mode.SUBTRACT)
        with Locations((20, 20)):
            Circle(F0_R_2, mode=Mode.SUBTRACT)
        with Locations((30, 20)):
            Circle(F0_R_2, mode=Mode.SUBTRACT)
        with Locations((20, 30)):
            Circle(F0_R_2, mode=Mode.SUBTRACT)
        with Locations((30, 30)):
            Circle(F0_R_2, mode=Mode.SUBTRACT)
        with Locations((40, 0)):
            Circle(F0_R_2, mode=Mode.SUBTRACT)
        with Locations((50, 0)):
            Circle(F0_R_2, mode=Mode.SUBTRACT)
        with Locations((40, 10)):
            Circle(F0_R_2, mode=Mode.SUBTRACT)
        with Locations((50, 10)):
            Circle(F0_R_2, mode=Mode.SUBTRACT)
        with Locations((40, 20)):
            Circle(F0_R_2, mode=Mode.SUBTRACT)
        with Locations((50, 20)):
            Circle(F0_R_2, mode=Mode.SUBTRACT)
        with Locations((40, 30)):
            Circle(F0_R_2, mode=Mode.SUBTRACT)
        with Locations((50, 30)):
            Circle(F0_R_2, mode=Mode.SUBTRACT)
        with Locations((0, 40)):
            Circle(F0_R_2, mode=Mode.SUBTRACT)
        with Locations((10, 40)):
            Circle(F0_R_2, mode=Mode.SUBTRACT)
        with Locations((0, 50)):
            Circle(F0_R_2, mode=Mode.SUBTRACT)
        with Locations((10, 50)):
            Circle(F0_R_2, mode=Mode.SUBTRACT)
        with Locations((20, 40)):
            Circle(F0_R_2, mode=Mode.SUBTRACT)
        with Locations((30, 40)):
            Circle(F0_R_2, mode=Mode.SUBTRACT)
        with Locations((20, 50)):
            Circle(F0_R_2, mode=Mode.SUBTRACT)
        with Locations((30, 50)):
            Circle(F0_R_2, mode=Mode.SUBTRACT)
        with Locations((40, 40)):
            Circle(F0_R_2, mode=Mode.SUBTRACT)
        with Locations((50, 40)):
            Circle(F0_R_2, mode=Mode.SUBTRACT)
        with Locations((40, 50)):
            Circle(F0_R_2, mode=Mode.SUBTRACT)
    extrude(amount=F1_DEPTH)


solid = f1.part
